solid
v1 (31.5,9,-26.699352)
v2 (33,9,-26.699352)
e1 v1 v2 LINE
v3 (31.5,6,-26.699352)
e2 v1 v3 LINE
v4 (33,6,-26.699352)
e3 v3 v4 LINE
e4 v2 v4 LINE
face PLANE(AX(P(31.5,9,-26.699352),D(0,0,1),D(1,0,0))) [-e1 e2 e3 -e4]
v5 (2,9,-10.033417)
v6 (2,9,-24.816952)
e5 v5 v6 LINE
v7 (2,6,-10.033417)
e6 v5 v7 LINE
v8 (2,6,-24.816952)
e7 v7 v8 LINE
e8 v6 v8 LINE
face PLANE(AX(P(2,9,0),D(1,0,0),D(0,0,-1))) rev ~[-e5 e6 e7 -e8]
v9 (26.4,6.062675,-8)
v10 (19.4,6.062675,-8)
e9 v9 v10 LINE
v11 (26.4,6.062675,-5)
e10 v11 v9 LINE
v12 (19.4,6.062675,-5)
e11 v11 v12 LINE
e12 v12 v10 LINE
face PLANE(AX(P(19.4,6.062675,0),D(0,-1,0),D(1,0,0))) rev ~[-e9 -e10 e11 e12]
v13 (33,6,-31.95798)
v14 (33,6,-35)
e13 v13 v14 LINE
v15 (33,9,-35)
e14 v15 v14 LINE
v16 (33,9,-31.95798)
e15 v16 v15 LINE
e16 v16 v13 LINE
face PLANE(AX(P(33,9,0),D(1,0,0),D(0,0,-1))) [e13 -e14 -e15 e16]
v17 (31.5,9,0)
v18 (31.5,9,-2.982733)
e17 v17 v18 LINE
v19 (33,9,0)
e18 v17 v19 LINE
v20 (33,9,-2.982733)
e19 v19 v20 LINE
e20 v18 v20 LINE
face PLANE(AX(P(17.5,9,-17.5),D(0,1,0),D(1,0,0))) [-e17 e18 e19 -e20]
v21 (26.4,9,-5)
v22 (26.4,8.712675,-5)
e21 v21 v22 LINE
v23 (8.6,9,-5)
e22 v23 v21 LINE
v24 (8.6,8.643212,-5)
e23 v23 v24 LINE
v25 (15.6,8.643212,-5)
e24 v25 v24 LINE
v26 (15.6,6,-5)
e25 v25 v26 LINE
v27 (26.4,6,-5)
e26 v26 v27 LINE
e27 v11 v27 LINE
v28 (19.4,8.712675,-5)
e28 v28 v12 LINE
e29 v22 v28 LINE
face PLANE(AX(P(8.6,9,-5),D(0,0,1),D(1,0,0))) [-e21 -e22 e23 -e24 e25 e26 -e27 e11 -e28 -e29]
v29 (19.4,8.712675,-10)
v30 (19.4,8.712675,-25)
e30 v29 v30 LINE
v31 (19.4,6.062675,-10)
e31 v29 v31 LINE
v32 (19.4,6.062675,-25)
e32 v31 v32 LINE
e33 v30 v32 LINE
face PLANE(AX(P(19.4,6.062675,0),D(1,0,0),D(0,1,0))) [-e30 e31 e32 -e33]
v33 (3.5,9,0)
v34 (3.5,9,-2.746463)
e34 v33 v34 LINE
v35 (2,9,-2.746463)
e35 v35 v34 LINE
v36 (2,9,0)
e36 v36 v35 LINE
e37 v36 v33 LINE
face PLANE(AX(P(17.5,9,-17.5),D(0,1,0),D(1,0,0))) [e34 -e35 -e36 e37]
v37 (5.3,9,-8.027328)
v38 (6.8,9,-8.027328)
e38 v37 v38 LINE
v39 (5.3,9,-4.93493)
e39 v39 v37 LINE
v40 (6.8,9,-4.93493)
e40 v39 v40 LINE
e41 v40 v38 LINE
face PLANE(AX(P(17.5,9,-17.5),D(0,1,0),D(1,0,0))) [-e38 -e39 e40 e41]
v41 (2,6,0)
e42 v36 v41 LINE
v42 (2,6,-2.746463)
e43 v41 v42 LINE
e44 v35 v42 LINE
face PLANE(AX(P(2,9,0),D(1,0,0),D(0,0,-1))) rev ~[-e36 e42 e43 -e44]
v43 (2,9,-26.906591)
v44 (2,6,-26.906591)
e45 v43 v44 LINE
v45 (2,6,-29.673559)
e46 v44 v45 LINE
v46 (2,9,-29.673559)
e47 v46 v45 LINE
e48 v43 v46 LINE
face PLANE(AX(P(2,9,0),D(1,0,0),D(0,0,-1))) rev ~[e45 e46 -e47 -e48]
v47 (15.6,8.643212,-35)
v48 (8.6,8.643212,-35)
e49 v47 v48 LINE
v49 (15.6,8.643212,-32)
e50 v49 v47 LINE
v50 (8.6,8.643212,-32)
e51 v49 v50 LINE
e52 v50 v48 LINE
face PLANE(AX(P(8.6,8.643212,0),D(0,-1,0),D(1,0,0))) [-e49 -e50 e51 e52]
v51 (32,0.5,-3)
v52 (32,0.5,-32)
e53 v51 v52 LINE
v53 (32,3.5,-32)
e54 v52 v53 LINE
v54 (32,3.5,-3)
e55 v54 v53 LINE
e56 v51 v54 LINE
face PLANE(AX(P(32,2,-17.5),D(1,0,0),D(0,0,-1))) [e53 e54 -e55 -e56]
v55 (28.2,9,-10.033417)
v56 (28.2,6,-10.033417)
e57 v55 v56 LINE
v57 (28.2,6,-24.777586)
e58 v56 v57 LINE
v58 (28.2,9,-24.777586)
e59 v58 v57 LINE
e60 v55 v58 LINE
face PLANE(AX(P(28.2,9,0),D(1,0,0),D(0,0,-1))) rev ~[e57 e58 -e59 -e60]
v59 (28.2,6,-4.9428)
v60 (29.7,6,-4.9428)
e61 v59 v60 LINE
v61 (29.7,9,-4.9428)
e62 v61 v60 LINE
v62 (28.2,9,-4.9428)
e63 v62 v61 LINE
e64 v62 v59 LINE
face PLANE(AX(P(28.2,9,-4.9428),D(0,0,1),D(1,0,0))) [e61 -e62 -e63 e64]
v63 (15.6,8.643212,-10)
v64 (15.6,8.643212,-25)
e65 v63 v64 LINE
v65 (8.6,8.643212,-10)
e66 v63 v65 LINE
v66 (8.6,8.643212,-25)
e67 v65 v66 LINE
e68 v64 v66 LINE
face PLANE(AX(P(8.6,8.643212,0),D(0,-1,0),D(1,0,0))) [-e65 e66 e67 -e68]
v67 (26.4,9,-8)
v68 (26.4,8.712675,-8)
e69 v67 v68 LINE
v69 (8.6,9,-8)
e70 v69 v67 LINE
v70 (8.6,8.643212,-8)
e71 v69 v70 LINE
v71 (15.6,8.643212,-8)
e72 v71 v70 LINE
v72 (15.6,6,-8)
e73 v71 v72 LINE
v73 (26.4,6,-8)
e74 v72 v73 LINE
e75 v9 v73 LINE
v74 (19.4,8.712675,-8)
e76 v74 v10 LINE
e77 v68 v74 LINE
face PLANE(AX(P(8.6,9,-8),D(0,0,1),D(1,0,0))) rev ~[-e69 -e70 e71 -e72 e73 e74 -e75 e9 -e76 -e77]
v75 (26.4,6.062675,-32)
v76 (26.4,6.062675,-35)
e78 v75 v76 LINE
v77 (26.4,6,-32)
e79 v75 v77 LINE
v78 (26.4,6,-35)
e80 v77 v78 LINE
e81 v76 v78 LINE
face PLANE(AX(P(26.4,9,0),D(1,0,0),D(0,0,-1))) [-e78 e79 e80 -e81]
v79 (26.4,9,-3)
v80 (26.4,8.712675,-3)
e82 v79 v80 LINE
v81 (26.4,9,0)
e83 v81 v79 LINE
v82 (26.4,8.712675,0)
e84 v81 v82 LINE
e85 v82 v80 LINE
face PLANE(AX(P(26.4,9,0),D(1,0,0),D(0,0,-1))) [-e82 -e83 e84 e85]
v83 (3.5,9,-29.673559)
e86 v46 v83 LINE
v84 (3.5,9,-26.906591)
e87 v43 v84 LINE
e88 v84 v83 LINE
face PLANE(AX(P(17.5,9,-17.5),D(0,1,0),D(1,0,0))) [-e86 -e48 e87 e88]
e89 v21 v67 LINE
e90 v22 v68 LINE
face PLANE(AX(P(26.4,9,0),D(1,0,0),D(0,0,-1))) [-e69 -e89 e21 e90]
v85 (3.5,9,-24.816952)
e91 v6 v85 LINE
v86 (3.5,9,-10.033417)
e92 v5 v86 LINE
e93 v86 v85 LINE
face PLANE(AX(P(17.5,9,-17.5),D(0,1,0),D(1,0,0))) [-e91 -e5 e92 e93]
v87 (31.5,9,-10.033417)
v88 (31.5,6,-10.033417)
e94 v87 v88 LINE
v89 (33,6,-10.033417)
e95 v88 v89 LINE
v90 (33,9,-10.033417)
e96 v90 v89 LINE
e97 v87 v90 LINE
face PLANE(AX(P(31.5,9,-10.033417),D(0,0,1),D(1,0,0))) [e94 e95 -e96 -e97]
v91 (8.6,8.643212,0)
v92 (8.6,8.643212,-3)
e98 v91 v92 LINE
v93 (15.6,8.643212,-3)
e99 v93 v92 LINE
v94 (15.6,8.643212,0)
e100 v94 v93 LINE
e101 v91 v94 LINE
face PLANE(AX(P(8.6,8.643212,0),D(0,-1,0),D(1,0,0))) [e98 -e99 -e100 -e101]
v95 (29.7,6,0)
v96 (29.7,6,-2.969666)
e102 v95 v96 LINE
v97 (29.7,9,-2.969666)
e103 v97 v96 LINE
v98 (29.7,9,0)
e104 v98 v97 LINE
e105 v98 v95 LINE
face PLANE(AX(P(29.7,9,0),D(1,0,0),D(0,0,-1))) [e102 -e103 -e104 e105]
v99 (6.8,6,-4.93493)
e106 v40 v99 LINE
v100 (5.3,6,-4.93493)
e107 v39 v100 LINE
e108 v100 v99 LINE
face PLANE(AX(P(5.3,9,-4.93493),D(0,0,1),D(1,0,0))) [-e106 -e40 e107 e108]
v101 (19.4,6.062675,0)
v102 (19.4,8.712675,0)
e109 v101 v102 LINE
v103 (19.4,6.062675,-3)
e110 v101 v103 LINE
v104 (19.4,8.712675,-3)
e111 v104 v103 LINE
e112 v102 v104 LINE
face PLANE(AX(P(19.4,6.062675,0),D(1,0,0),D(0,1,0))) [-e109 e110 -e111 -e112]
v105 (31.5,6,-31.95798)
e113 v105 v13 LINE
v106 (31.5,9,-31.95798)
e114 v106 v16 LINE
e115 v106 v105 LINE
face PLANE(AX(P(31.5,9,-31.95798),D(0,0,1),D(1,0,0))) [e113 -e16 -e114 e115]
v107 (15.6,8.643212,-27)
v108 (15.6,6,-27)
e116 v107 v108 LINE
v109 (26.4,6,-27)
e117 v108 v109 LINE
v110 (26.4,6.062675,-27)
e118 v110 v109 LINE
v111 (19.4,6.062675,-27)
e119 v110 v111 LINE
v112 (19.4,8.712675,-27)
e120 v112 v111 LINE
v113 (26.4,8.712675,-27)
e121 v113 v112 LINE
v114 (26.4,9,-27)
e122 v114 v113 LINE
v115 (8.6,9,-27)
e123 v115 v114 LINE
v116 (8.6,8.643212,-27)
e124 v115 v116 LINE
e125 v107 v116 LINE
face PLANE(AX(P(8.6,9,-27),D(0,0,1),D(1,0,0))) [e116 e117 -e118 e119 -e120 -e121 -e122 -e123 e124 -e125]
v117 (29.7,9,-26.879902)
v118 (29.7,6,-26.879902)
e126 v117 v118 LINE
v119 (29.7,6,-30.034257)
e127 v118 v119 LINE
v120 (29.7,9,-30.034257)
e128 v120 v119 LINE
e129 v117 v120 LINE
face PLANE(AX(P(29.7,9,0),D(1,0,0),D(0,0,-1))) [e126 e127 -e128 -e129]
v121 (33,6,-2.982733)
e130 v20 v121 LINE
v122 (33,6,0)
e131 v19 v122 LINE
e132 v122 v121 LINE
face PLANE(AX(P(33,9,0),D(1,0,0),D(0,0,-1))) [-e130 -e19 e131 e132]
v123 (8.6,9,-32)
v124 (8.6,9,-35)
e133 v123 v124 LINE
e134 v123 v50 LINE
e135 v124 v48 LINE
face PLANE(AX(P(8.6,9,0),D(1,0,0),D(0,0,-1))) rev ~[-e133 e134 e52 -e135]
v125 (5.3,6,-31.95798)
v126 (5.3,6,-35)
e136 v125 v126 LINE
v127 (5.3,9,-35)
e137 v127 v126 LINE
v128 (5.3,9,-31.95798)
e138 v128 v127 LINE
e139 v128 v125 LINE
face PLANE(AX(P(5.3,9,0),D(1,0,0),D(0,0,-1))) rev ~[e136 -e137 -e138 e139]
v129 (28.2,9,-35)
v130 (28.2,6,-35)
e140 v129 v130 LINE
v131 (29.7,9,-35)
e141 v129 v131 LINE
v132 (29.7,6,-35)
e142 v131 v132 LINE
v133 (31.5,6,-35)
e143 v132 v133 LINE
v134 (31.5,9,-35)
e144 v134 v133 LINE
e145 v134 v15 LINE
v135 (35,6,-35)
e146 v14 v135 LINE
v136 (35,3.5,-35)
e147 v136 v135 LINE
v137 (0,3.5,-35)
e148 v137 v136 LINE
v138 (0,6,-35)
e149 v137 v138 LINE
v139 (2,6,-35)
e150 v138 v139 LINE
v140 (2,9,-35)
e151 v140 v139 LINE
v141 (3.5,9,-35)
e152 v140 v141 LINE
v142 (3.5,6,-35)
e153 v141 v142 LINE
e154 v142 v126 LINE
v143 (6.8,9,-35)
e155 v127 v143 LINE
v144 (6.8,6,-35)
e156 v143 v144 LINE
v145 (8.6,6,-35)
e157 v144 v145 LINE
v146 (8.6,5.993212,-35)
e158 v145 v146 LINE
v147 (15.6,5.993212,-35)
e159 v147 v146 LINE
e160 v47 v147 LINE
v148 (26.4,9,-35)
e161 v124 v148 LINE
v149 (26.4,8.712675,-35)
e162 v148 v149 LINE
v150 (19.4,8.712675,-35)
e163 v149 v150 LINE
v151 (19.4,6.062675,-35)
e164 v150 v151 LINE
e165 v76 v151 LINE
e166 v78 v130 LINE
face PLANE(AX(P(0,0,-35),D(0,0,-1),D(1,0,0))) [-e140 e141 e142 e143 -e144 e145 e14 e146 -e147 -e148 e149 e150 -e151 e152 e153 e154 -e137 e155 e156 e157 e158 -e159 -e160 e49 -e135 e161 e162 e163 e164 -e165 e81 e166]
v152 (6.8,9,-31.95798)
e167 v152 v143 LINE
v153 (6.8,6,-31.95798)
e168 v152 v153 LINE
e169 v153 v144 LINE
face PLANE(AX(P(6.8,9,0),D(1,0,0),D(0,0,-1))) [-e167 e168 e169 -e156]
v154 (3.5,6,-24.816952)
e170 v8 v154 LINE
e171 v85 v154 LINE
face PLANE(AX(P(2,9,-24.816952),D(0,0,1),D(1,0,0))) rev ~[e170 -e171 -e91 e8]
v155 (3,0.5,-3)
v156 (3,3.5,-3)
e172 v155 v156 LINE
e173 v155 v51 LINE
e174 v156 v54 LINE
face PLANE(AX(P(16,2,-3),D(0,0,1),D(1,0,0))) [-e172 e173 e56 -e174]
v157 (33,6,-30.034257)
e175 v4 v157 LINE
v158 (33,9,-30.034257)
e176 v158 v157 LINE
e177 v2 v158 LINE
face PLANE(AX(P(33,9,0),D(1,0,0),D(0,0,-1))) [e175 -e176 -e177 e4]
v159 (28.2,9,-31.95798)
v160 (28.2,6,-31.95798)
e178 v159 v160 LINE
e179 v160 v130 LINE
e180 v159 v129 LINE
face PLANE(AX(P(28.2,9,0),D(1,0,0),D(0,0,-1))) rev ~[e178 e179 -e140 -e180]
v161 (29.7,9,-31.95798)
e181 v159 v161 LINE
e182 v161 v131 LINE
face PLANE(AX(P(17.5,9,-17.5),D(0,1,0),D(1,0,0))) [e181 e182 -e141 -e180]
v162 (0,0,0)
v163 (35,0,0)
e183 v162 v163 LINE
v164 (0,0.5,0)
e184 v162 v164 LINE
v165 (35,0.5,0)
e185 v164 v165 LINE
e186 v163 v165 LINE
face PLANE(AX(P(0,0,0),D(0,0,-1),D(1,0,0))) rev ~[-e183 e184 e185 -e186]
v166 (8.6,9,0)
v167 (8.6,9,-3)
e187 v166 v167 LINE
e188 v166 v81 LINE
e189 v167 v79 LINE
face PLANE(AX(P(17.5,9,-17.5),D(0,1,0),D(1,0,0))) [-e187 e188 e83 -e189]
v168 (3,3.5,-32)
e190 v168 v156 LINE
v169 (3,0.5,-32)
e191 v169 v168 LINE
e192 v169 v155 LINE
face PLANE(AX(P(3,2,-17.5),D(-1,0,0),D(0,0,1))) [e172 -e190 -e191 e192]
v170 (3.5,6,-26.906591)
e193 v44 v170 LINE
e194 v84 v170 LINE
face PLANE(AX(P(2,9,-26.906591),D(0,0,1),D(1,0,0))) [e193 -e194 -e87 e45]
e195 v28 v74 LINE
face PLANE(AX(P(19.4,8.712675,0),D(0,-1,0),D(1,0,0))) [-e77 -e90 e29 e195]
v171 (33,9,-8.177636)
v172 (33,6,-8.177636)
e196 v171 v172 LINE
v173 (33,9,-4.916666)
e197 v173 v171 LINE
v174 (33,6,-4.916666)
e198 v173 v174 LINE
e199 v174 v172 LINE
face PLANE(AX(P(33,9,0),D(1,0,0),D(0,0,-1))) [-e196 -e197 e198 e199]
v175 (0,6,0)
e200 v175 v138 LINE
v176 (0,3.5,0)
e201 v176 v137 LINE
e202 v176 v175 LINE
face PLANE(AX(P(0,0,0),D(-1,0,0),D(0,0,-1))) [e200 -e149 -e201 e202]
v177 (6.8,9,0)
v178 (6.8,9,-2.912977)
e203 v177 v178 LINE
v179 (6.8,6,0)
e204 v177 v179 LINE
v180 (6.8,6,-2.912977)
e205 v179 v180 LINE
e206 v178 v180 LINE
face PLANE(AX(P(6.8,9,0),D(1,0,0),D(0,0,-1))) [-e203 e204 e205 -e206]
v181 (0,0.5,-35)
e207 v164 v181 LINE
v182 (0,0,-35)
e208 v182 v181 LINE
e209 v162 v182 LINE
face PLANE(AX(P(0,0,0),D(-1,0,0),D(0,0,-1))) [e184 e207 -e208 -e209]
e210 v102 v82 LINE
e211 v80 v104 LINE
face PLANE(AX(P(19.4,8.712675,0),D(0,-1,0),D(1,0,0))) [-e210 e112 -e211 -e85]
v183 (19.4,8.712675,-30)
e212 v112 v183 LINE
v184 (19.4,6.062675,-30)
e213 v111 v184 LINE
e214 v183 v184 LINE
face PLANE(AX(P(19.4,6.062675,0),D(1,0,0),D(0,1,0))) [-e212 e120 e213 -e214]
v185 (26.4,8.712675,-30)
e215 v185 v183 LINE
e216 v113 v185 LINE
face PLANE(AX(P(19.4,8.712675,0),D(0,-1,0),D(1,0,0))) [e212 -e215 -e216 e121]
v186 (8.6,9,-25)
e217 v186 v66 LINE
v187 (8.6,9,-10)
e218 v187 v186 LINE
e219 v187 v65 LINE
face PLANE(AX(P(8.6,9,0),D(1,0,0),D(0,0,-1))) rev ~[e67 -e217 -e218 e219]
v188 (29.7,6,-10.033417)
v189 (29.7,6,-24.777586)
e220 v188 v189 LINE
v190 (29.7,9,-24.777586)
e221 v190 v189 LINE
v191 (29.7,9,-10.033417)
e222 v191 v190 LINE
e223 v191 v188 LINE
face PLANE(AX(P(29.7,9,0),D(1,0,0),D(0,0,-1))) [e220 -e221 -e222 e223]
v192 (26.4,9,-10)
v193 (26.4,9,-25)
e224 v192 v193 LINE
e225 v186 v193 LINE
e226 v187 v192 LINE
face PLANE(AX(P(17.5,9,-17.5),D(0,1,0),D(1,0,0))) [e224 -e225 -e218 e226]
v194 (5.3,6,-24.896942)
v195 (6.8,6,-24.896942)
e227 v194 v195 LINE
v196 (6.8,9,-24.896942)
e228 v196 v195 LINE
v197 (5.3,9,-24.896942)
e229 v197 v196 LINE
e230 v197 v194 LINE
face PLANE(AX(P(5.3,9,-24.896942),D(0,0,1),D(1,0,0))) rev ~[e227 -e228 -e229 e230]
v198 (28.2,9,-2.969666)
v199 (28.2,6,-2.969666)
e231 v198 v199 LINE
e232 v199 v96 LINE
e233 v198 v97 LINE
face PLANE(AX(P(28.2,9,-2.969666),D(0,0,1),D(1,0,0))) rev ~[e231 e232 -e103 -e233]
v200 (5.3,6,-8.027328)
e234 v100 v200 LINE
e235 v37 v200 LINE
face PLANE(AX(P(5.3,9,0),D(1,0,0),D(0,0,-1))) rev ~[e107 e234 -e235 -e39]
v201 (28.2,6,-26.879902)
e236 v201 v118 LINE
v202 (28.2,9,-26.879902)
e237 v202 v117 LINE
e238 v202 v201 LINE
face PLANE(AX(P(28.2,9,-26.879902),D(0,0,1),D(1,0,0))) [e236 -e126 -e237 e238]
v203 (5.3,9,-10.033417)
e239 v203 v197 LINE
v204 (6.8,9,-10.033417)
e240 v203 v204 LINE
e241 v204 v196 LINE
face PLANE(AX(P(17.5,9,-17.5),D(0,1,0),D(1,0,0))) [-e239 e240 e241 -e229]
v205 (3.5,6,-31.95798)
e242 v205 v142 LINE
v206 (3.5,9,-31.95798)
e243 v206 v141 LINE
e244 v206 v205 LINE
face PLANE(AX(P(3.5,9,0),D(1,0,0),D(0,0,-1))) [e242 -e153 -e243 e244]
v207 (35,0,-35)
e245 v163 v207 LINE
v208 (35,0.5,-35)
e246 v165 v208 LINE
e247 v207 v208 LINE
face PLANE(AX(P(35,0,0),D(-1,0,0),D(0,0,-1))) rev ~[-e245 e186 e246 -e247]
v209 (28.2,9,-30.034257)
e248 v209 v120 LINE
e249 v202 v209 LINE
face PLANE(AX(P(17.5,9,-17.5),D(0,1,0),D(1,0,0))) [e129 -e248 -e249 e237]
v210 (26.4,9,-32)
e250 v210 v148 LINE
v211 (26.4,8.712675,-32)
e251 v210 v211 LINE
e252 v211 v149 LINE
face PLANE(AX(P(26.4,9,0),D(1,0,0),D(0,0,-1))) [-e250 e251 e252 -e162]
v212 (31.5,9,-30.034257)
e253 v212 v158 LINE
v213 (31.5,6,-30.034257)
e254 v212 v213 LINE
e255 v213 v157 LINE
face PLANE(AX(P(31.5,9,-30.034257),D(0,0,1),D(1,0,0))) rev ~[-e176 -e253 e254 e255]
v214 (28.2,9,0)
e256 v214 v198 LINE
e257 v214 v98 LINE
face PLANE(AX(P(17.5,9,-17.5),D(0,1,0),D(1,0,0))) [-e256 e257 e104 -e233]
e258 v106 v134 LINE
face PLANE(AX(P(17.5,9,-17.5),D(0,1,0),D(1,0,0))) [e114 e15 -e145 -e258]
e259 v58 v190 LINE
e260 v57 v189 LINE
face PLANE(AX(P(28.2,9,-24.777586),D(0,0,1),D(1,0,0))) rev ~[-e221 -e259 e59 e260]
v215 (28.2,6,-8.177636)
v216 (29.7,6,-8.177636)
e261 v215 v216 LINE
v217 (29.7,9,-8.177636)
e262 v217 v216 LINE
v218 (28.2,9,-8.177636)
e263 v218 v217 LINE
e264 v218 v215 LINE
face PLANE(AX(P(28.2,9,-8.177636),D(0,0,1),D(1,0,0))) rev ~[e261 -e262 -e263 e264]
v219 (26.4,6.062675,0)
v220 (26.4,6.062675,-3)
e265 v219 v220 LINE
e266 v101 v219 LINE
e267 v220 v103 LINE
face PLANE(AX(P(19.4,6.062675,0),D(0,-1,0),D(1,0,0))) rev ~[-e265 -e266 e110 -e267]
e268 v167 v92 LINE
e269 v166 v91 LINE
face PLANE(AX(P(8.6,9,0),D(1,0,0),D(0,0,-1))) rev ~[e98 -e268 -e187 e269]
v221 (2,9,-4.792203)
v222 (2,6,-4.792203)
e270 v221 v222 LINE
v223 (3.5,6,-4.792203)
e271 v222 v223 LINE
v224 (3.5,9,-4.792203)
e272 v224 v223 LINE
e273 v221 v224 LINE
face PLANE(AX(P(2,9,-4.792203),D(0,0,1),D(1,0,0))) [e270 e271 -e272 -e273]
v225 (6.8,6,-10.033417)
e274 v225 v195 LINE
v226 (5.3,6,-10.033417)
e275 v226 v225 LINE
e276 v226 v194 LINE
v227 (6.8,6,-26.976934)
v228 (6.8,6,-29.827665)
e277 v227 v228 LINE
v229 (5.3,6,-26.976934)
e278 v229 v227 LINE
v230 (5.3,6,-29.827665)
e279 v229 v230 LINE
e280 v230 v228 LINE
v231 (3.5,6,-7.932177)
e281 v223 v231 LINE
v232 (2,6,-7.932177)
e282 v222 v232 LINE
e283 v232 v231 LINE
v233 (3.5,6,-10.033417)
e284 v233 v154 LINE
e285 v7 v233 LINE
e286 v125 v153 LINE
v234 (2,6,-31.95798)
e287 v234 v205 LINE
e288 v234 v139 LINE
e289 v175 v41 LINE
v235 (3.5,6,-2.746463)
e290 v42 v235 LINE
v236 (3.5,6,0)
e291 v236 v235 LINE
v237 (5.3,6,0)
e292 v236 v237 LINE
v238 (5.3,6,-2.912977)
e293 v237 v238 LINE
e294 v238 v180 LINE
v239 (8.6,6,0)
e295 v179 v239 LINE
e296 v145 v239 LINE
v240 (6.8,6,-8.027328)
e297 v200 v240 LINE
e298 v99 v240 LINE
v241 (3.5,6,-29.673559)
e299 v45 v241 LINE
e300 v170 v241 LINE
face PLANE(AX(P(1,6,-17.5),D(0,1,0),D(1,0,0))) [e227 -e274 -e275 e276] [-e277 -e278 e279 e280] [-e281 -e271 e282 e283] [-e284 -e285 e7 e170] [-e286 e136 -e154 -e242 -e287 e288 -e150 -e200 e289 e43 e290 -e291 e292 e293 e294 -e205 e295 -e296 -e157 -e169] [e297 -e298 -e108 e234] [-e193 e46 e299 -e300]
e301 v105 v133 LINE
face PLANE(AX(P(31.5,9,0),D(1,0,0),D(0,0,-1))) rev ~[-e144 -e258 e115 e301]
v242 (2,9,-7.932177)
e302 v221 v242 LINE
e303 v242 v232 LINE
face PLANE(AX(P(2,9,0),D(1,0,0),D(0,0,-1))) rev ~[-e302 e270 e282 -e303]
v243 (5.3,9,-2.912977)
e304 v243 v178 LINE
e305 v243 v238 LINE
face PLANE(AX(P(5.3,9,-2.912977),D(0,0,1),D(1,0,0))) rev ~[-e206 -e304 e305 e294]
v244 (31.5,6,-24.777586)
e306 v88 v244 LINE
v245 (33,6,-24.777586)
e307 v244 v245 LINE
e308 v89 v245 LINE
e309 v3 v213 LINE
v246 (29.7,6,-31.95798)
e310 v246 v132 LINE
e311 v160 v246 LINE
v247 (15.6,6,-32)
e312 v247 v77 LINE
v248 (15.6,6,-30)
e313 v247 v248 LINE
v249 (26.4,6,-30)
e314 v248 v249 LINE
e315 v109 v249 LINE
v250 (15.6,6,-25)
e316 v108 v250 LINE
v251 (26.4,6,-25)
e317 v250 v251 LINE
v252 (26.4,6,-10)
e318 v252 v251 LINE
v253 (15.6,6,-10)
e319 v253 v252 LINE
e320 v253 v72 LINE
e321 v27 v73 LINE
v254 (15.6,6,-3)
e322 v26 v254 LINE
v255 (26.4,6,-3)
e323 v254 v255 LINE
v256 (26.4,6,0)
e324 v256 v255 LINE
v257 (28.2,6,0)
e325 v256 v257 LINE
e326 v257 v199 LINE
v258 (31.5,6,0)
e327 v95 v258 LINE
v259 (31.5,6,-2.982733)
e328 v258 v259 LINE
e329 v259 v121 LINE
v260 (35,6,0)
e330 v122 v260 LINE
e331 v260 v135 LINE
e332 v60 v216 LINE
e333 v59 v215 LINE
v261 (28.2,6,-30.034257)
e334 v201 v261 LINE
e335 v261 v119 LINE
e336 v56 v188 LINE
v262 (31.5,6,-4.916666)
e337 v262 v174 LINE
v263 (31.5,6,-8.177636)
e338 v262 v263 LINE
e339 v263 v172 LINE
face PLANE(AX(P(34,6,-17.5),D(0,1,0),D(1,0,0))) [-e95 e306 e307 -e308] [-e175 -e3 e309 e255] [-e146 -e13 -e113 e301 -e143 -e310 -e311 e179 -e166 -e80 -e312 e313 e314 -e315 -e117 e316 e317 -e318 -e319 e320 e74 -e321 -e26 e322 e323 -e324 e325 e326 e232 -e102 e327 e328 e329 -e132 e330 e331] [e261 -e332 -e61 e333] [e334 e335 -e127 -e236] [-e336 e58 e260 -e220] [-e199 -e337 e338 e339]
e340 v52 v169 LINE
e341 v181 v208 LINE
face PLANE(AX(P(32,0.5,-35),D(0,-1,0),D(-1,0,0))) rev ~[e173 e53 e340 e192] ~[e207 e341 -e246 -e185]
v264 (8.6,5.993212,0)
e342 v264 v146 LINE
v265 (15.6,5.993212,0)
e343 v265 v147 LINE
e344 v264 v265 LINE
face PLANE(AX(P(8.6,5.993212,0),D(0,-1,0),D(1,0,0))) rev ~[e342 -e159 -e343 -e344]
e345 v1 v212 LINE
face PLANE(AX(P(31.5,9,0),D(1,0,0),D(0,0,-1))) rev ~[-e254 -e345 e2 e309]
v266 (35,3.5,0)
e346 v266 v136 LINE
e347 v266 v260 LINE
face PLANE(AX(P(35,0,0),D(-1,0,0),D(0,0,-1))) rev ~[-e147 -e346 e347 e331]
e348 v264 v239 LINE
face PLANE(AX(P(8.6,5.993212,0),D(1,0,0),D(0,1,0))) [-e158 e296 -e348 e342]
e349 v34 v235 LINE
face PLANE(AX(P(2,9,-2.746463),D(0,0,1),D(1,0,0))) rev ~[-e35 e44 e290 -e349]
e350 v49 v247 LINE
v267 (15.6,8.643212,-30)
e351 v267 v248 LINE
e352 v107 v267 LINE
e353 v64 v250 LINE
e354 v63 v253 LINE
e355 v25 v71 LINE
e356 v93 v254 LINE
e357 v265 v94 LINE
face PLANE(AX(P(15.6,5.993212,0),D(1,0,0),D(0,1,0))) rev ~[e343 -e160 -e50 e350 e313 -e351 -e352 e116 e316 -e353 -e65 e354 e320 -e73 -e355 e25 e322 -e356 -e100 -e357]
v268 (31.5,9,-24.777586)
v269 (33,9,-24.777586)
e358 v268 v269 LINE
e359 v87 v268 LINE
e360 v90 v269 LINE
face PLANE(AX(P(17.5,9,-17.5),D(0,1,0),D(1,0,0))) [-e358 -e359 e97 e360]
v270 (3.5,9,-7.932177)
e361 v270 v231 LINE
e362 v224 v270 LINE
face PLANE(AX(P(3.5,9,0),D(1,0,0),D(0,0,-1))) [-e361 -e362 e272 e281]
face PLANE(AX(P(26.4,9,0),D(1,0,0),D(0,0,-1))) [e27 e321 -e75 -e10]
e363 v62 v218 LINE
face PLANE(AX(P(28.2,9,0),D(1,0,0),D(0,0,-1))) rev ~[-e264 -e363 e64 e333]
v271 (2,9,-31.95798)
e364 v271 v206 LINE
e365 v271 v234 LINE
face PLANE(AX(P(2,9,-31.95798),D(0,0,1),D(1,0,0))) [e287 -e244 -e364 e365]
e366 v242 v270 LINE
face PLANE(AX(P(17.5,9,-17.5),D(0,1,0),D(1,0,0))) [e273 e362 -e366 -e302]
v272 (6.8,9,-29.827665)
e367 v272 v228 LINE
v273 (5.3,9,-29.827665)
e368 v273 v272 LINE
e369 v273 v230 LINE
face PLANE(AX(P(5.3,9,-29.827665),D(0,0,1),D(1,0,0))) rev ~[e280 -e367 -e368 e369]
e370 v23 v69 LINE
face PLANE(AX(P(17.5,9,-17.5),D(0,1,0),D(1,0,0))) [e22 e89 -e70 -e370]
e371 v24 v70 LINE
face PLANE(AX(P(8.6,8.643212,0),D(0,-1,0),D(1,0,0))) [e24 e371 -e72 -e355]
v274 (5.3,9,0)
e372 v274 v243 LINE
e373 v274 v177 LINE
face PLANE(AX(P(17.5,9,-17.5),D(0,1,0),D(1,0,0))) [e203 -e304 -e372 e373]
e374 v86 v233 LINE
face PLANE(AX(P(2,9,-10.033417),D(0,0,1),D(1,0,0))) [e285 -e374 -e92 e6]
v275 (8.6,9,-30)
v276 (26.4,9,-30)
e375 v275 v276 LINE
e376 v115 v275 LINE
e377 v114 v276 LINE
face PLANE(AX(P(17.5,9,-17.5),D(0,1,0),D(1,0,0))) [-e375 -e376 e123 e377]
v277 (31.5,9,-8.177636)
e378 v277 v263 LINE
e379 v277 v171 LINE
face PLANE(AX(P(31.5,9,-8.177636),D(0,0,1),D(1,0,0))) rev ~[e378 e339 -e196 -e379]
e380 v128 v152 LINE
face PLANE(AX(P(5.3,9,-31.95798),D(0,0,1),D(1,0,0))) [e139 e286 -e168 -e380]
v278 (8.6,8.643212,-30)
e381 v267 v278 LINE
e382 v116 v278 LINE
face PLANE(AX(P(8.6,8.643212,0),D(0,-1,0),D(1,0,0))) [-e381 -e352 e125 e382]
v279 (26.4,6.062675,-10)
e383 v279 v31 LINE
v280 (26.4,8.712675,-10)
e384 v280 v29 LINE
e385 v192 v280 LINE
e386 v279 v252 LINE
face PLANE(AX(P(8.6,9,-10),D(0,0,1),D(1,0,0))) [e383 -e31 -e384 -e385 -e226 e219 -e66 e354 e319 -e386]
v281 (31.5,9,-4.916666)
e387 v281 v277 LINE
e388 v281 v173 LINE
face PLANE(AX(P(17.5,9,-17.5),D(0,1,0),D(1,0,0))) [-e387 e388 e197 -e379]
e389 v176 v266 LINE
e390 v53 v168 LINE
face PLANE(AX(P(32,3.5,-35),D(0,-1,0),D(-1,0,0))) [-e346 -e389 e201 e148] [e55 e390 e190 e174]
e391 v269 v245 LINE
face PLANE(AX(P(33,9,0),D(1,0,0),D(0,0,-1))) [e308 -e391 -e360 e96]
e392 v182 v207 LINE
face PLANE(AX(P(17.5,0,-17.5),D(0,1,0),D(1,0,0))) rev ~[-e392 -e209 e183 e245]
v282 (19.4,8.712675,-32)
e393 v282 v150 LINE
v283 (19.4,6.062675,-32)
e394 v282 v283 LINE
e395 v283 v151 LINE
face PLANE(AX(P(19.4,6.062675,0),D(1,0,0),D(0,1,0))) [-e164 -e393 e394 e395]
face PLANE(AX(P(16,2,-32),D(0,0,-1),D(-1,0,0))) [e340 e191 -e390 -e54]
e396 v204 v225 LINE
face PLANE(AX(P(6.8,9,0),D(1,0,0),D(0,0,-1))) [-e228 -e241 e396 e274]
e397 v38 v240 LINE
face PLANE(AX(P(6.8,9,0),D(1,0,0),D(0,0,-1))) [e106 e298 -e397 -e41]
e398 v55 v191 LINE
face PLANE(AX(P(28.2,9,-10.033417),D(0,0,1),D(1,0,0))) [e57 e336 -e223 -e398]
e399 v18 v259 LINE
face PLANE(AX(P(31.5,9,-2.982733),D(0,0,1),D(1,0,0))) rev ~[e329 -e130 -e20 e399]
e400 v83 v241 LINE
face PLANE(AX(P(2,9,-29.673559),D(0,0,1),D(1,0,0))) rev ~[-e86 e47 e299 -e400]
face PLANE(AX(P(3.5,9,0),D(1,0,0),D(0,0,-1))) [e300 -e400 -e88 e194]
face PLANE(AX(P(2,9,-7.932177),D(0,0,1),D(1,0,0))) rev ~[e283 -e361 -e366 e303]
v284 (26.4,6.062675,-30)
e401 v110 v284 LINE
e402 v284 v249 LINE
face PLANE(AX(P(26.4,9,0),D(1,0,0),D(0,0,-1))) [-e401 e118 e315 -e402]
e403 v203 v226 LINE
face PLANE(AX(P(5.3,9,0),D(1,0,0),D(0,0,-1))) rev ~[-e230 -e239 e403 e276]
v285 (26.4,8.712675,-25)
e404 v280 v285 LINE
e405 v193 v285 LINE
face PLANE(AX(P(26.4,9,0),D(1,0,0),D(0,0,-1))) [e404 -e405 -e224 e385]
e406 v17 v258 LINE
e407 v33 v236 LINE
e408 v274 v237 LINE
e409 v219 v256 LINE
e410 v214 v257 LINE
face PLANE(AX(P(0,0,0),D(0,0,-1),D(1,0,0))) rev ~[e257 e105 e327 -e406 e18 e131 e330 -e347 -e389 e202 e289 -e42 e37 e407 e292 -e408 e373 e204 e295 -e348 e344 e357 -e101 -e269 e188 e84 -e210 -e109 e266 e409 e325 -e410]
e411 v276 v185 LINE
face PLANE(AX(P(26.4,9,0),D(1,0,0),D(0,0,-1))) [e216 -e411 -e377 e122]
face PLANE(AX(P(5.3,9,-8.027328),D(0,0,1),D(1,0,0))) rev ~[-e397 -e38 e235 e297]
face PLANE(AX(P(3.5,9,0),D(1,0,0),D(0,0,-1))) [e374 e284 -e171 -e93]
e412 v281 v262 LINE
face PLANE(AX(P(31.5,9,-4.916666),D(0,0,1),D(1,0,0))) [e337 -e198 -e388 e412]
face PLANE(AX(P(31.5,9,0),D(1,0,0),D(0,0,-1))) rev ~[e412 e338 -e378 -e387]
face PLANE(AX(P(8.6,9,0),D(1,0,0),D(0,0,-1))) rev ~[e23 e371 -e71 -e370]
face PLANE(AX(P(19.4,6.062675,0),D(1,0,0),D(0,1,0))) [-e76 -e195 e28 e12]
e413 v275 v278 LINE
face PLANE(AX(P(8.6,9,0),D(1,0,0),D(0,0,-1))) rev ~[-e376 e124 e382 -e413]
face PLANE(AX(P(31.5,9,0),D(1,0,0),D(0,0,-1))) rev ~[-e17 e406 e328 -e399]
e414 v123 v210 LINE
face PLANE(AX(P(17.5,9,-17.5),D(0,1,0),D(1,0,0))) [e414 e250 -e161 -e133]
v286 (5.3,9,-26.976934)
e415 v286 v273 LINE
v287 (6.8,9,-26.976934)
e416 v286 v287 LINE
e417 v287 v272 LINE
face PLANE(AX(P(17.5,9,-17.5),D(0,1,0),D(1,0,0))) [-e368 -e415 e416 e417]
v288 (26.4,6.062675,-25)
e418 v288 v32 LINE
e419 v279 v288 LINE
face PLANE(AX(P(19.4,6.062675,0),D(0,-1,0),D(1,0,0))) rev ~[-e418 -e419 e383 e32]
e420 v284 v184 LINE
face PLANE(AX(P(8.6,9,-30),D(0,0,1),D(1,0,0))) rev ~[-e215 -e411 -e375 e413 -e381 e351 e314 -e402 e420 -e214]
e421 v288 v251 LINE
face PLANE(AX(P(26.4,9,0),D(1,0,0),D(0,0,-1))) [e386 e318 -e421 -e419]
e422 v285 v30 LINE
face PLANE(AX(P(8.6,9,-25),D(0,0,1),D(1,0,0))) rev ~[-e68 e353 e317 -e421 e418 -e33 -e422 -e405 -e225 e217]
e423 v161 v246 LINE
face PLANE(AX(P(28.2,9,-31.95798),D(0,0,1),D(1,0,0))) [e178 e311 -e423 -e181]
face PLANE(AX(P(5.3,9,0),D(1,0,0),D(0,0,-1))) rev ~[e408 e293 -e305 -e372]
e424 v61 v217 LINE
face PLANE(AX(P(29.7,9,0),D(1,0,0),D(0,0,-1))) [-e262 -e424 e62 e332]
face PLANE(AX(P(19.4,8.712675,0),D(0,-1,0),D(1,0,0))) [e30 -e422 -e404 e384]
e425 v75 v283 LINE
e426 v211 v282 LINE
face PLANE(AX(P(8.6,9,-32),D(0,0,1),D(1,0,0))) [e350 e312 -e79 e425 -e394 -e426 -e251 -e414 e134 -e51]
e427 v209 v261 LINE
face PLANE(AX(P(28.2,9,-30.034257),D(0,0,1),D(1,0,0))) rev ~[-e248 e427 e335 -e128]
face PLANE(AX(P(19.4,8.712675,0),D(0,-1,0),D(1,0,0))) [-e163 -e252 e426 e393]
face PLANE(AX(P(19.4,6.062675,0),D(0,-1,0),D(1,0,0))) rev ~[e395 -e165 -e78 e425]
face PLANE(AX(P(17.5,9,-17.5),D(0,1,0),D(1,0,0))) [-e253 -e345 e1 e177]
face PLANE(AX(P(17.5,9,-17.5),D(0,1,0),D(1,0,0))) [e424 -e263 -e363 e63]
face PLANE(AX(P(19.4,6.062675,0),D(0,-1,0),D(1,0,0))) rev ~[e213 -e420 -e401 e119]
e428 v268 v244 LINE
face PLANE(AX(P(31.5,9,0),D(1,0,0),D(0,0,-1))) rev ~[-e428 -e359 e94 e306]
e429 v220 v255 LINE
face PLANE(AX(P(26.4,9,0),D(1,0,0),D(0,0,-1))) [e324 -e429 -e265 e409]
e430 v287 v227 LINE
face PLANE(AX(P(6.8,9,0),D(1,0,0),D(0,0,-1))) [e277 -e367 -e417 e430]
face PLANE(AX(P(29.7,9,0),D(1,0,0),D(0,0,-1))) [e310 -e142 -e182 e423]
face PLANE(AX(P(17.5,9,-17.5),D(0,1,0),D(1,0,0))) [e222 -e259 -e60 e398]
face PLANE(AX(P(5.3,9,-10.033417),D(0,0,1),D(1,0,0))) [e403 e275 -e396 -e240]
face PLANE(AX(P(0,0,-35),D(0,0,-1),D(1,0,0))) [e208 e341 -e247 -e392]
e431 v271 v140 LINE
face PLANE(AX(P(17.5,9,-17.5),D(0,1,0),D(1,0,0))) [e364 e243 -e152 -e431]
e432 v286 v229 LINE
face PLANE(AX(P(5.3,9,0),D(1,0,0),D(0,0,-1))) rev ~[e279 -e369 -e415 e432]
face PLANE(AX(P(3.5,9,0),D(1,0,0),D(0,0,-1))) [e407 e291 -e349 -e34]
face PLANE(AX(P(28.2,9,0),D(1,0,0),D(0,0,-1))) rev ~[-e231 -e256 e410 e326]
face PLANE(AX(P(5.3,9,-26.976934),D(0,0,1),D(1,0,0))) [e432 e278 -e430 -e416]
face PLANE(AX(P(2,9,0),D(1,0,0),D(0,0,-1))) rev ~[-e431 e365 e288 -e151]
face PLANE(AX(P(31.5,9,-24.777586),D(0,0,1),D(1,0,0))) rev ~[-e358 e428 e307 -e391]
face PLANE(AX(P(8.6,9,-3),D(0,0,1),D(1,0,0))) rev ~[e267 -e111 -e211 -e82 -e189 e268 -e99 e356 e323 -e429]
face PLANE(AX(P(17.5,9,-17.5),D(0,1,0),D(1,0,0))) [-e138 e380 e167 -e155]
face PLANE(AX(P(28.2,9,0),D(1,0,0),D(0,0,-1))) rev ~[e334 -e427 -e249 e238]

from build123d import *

# Parameters (mm, degrees)
SKETCH1_W           = 35
SKETCH1_H           = 35
BOSS_EXTRUDE1_DEPTH = 9
SKETCH2_W           = 2
SKETCH2_H           = 35
SKETCH2_W_2         = 1.8
CUT_EXTRUDE1_DEPTH  = 3
SKETCH3_W           = 35
SKETCH3_H           = 3
CUT_EXTRUDE2_DEPTH  = 3
SKETCH4_W           = 7
SKETCH4_H           = 2.65
CUT_EXTRUDE3_DEPTH  = 51.309044912
SKETCH5_W           = 32
SKETCH5_H           = 3
CUT_EXTRUDE4_DEPTH  = 3
SKETCH6_W           = 17.8
SKETCH6_H           = 2
CUT_EXTRUDE5_DEPTH  = 3
SKETCH7_W           = 1.5
SKETCH7_H           = 2.079992284
SKETCH7_H_2         = 2.089639239
SKETCH7_H_3         = 2.130315237
SKETCH7_H_4         = 2.284421
SKETCH7_H_5         = 1.923722947
SKETCH7_H_6         = 2.10231694
SKETCH7_H_7         = 1.921766709
CUT_EXTRUDE6_DEPTH  = 3
SKETCH8_W           = 1.5
SKETCH8_H           = 1.855781426
SKETCH8_H_2         = 1.933933062
SKETCH8_H_3         = 1.973134408
SKETCH8_H_4         = 2.021952678
SKETCH8_H_5         = 2.006089453
SKETCH8_H_6         = 2.101240168
SKETCH8_H_7         = 2.045740356
CUT_EXTRUDE7_DEPTH  = 3
SKETCH9_W           = 32
SKETCH9_H           = 3
CUT_EXTRUDE9_DEPTH  = 3
SKETCH11_W          = 29
SKETCH11_H          = 3
CUT_EXTRUDE10_DEPTH = 3


with BuildPart() as part:
    # Sketch1 → Boss-Extrude1 (new body)
    with BuildSketch(Plane(origin=(0, 0, 0), x_dir=(1, 0, 0), z_dir=(0, 1, 0))):
        with Locations((17.5, 17.5)):
            Rectangle(SKETCH1_W, SKETCH1_H)
    extrude(amount=BOSS_EXTRUDE1_DEPTH)

    # Sketch2 → Cut-Extrude1 (cut)
    with BuildSketch(Plane(origin=(0, 9, 0), x_dir=(1, 0, 0), z_dir=(0, 1, 0))):
        with Locations((34, 17.5)):
            Rectangle(SKETCH2_W, SKETCH2_H)
        with Locations((30.6, 17.5)):
            Rectangle(SKETCH2_W_2, SKETCH2_H)
        with Locations((27.3, 17.5)):
            Rectangle(SKETCH2_W_2, SKETCH2_H)
        with Locations((1, 17.5)):
            Rectangle(SKETCH2_W, SKETCH2_H)
        with Locations((4.4, 17.5)):
            Rectangle(SKETCH2_W_2, SKETCH2_H)
        with Locations((7.7, 17.5)):
            Rectangle(SKETCH2_W_2, SKETCH2_H)
    extrude(amount=-CUT_EXTRUDE1_DEPTH, mode=Mode.SUBTRACT)

    # Sketch3 → Cut-Extrude2 (cut)
    with BuildSketch(Plane(origin=(35, 0, 0), x_dir=(0, 0, -1), z_dir=(1, 0, 0))):
        with Locations((17.5, 2)):
            Rectangle(SKETCH3_W, SKETCH3_H)
    extrude(amount=-CUT_EXTRUDE2_DEPTH, mode=Mode.SUBTRACT)

    # Sketch4 → Cut-Extrude3 (cut, through all)
    with BuildSketch(Plane.XY):
        with Locations((22.9, 7.387674937)):
            Rectangle(SKETCH4_W, SKETCH4_H)
        with Locations((12.1, 7.318212489)):
            Rectangle(SKETCH4_W, SKETCH4_H)
    extrude(amount=-CUT_EXTRUDE3_DEPTH, mode=Mode.SUBTRACT)

    # Sketch5 → Cut-Extrude4 (cut)
    with BuildSketch(Plane.XY):
        with Locations((16, 2)):
            Rectangle(SKETCH5_W, SKETCH5_H)
    extrude(amount=-CUT_EXTRUDE4_DEPTH, mode=Mode.SUBTRACT)

    # Sketch6 → Cut-Extrude5 (cut)
    with BuildSketch(Plane(origin=(0, 9, 0), x_dir=(1, 0, 0), z_dir=(0, 1, 0))):
        with Locations((17.5, 4)):
            Rectangle(SKETCH6_W, SKETCH6_H)
        with Locations((17.5, 9)):
            Rectangle(SKETCH6_W, SKETCH6_H)
        with Locations((17.5, 31)):
            Rectangle(SKETCH6_W, SKETCH6_H)
        with Locations((17.5, 26)):
            Rectangle(SKETCH6_W, SKETCH6_H)
    extrude(amount=-CUT_EXTRUDE5_DEPTH, mode=Mode.SUBTRACT)

    # Sketch7 → Cut-Extrude6 (cut)
    with BuildSketch(Plane(origin=(0, 9, 0), x_dir=(1, 0, 0), z_dir=(0, 1, 0))):
        with Locations((6.05, 25.936938184)):
            Rectangle(SKETCH7_W, SKETCH7_H)
        with Locations((2.75, 25.861771744)):
            Rectangle(SKETCH7_W, SKETCH7_H_2)
        with Locations((6.05, 30.892822657)):
            Rectangle(SKETCH7_W, SKETCH7_H_3)
        with Locations((2.75, 30.815769775)):
            Rectangle(SKETCH7_W, SKETCH7_H_4)
        with Locations((28.95, 30.996118802)):
            Rectangle(SKETCH7_W, SKETCH7_H_5)
        with Locations((32.25, 30.996118802)):
            Rectangle(SKETCH7_W, SKETCH7_H_5)
        with Locations((28.95, 25.828744005)):
            Rectangle(SKETCH7_W, SKETCH7_H_6)
        with Locations((32.25, 25.738468889)):
            Rectangle(SKETCH7_W, SKETCH7_H_7)
    extrude(amount=-CUT_EXTRUDE6_DEPTH, mode=Mode.SUBTRACT)

    # Sketch8 → Cut-Extrude7 (cut)
    with BuildSketch(Plane(origin=(0, 9, 0), x_dir=(1, 0, 0), z_dir=(0, 1, 0))):
        with Locations((28.95, 9.105526505)):
            Rectangle(SKETCH8_W, SKETCH8_H)
        with Locations((32.25, 9.105526505)):
            Rectangle(SKETCH8_W, SKETCH8_H)
        with Locations((32.25, 3.949699522)):
            Rectangle(SKETCH8_W, SKETCH8_H_2)
        with Locations((28.95, 3.95623308)):
            Rectangle(SKETCH8_W, SKETCH8_H_3)
        with Locations((6.05, 3.923953213)):
            Rectangle(SKETCH8_W, SKETCH8_H_4)
        with Locations((6.05, 9.030372491)):
            Rectangle(SKETCH8_W, SKETCH8_H_5)
        with Locations((2.75, 8.982797134)):
            Rectangle(SKETCH8_W, SKETCH8_H_6)
        with Locations((2.75, 3.769333302)):
            Rectangle(SKETCH8_W, SKETCH8_H_7)
    extrude(amount=-CUT_EXTRUDE7_DEPTH, mode=Mode.SUBTRACT)

    # Sketch9 → Cut-Extrude9 (cut)
    with BuildSketch(Plane(origin=(0, 0, -35), x_dir=(-1, 0, 0), z_dir=(0, 0, -1))):
        with Locations((-16, 2)):
            Rectangle(SKETCH9_W, SKETCH9_H)
    extrude(amount=-CUT_EXTRUDE9_DEPTH, mode=Mode.SUBTRACT)

    # Sketch11 → Cut-Extrude10 (cut)
    with BuildSketch(Plane.ZY):
        with Locations((-17.5, 2)):
            Rectangle(SKETCH11_W, SKETCH11_H)
    extrude(amount=-CUT_EXTRUDE10_DEPTH, mode=Mode.SUBTRACT)


solid = part.part
